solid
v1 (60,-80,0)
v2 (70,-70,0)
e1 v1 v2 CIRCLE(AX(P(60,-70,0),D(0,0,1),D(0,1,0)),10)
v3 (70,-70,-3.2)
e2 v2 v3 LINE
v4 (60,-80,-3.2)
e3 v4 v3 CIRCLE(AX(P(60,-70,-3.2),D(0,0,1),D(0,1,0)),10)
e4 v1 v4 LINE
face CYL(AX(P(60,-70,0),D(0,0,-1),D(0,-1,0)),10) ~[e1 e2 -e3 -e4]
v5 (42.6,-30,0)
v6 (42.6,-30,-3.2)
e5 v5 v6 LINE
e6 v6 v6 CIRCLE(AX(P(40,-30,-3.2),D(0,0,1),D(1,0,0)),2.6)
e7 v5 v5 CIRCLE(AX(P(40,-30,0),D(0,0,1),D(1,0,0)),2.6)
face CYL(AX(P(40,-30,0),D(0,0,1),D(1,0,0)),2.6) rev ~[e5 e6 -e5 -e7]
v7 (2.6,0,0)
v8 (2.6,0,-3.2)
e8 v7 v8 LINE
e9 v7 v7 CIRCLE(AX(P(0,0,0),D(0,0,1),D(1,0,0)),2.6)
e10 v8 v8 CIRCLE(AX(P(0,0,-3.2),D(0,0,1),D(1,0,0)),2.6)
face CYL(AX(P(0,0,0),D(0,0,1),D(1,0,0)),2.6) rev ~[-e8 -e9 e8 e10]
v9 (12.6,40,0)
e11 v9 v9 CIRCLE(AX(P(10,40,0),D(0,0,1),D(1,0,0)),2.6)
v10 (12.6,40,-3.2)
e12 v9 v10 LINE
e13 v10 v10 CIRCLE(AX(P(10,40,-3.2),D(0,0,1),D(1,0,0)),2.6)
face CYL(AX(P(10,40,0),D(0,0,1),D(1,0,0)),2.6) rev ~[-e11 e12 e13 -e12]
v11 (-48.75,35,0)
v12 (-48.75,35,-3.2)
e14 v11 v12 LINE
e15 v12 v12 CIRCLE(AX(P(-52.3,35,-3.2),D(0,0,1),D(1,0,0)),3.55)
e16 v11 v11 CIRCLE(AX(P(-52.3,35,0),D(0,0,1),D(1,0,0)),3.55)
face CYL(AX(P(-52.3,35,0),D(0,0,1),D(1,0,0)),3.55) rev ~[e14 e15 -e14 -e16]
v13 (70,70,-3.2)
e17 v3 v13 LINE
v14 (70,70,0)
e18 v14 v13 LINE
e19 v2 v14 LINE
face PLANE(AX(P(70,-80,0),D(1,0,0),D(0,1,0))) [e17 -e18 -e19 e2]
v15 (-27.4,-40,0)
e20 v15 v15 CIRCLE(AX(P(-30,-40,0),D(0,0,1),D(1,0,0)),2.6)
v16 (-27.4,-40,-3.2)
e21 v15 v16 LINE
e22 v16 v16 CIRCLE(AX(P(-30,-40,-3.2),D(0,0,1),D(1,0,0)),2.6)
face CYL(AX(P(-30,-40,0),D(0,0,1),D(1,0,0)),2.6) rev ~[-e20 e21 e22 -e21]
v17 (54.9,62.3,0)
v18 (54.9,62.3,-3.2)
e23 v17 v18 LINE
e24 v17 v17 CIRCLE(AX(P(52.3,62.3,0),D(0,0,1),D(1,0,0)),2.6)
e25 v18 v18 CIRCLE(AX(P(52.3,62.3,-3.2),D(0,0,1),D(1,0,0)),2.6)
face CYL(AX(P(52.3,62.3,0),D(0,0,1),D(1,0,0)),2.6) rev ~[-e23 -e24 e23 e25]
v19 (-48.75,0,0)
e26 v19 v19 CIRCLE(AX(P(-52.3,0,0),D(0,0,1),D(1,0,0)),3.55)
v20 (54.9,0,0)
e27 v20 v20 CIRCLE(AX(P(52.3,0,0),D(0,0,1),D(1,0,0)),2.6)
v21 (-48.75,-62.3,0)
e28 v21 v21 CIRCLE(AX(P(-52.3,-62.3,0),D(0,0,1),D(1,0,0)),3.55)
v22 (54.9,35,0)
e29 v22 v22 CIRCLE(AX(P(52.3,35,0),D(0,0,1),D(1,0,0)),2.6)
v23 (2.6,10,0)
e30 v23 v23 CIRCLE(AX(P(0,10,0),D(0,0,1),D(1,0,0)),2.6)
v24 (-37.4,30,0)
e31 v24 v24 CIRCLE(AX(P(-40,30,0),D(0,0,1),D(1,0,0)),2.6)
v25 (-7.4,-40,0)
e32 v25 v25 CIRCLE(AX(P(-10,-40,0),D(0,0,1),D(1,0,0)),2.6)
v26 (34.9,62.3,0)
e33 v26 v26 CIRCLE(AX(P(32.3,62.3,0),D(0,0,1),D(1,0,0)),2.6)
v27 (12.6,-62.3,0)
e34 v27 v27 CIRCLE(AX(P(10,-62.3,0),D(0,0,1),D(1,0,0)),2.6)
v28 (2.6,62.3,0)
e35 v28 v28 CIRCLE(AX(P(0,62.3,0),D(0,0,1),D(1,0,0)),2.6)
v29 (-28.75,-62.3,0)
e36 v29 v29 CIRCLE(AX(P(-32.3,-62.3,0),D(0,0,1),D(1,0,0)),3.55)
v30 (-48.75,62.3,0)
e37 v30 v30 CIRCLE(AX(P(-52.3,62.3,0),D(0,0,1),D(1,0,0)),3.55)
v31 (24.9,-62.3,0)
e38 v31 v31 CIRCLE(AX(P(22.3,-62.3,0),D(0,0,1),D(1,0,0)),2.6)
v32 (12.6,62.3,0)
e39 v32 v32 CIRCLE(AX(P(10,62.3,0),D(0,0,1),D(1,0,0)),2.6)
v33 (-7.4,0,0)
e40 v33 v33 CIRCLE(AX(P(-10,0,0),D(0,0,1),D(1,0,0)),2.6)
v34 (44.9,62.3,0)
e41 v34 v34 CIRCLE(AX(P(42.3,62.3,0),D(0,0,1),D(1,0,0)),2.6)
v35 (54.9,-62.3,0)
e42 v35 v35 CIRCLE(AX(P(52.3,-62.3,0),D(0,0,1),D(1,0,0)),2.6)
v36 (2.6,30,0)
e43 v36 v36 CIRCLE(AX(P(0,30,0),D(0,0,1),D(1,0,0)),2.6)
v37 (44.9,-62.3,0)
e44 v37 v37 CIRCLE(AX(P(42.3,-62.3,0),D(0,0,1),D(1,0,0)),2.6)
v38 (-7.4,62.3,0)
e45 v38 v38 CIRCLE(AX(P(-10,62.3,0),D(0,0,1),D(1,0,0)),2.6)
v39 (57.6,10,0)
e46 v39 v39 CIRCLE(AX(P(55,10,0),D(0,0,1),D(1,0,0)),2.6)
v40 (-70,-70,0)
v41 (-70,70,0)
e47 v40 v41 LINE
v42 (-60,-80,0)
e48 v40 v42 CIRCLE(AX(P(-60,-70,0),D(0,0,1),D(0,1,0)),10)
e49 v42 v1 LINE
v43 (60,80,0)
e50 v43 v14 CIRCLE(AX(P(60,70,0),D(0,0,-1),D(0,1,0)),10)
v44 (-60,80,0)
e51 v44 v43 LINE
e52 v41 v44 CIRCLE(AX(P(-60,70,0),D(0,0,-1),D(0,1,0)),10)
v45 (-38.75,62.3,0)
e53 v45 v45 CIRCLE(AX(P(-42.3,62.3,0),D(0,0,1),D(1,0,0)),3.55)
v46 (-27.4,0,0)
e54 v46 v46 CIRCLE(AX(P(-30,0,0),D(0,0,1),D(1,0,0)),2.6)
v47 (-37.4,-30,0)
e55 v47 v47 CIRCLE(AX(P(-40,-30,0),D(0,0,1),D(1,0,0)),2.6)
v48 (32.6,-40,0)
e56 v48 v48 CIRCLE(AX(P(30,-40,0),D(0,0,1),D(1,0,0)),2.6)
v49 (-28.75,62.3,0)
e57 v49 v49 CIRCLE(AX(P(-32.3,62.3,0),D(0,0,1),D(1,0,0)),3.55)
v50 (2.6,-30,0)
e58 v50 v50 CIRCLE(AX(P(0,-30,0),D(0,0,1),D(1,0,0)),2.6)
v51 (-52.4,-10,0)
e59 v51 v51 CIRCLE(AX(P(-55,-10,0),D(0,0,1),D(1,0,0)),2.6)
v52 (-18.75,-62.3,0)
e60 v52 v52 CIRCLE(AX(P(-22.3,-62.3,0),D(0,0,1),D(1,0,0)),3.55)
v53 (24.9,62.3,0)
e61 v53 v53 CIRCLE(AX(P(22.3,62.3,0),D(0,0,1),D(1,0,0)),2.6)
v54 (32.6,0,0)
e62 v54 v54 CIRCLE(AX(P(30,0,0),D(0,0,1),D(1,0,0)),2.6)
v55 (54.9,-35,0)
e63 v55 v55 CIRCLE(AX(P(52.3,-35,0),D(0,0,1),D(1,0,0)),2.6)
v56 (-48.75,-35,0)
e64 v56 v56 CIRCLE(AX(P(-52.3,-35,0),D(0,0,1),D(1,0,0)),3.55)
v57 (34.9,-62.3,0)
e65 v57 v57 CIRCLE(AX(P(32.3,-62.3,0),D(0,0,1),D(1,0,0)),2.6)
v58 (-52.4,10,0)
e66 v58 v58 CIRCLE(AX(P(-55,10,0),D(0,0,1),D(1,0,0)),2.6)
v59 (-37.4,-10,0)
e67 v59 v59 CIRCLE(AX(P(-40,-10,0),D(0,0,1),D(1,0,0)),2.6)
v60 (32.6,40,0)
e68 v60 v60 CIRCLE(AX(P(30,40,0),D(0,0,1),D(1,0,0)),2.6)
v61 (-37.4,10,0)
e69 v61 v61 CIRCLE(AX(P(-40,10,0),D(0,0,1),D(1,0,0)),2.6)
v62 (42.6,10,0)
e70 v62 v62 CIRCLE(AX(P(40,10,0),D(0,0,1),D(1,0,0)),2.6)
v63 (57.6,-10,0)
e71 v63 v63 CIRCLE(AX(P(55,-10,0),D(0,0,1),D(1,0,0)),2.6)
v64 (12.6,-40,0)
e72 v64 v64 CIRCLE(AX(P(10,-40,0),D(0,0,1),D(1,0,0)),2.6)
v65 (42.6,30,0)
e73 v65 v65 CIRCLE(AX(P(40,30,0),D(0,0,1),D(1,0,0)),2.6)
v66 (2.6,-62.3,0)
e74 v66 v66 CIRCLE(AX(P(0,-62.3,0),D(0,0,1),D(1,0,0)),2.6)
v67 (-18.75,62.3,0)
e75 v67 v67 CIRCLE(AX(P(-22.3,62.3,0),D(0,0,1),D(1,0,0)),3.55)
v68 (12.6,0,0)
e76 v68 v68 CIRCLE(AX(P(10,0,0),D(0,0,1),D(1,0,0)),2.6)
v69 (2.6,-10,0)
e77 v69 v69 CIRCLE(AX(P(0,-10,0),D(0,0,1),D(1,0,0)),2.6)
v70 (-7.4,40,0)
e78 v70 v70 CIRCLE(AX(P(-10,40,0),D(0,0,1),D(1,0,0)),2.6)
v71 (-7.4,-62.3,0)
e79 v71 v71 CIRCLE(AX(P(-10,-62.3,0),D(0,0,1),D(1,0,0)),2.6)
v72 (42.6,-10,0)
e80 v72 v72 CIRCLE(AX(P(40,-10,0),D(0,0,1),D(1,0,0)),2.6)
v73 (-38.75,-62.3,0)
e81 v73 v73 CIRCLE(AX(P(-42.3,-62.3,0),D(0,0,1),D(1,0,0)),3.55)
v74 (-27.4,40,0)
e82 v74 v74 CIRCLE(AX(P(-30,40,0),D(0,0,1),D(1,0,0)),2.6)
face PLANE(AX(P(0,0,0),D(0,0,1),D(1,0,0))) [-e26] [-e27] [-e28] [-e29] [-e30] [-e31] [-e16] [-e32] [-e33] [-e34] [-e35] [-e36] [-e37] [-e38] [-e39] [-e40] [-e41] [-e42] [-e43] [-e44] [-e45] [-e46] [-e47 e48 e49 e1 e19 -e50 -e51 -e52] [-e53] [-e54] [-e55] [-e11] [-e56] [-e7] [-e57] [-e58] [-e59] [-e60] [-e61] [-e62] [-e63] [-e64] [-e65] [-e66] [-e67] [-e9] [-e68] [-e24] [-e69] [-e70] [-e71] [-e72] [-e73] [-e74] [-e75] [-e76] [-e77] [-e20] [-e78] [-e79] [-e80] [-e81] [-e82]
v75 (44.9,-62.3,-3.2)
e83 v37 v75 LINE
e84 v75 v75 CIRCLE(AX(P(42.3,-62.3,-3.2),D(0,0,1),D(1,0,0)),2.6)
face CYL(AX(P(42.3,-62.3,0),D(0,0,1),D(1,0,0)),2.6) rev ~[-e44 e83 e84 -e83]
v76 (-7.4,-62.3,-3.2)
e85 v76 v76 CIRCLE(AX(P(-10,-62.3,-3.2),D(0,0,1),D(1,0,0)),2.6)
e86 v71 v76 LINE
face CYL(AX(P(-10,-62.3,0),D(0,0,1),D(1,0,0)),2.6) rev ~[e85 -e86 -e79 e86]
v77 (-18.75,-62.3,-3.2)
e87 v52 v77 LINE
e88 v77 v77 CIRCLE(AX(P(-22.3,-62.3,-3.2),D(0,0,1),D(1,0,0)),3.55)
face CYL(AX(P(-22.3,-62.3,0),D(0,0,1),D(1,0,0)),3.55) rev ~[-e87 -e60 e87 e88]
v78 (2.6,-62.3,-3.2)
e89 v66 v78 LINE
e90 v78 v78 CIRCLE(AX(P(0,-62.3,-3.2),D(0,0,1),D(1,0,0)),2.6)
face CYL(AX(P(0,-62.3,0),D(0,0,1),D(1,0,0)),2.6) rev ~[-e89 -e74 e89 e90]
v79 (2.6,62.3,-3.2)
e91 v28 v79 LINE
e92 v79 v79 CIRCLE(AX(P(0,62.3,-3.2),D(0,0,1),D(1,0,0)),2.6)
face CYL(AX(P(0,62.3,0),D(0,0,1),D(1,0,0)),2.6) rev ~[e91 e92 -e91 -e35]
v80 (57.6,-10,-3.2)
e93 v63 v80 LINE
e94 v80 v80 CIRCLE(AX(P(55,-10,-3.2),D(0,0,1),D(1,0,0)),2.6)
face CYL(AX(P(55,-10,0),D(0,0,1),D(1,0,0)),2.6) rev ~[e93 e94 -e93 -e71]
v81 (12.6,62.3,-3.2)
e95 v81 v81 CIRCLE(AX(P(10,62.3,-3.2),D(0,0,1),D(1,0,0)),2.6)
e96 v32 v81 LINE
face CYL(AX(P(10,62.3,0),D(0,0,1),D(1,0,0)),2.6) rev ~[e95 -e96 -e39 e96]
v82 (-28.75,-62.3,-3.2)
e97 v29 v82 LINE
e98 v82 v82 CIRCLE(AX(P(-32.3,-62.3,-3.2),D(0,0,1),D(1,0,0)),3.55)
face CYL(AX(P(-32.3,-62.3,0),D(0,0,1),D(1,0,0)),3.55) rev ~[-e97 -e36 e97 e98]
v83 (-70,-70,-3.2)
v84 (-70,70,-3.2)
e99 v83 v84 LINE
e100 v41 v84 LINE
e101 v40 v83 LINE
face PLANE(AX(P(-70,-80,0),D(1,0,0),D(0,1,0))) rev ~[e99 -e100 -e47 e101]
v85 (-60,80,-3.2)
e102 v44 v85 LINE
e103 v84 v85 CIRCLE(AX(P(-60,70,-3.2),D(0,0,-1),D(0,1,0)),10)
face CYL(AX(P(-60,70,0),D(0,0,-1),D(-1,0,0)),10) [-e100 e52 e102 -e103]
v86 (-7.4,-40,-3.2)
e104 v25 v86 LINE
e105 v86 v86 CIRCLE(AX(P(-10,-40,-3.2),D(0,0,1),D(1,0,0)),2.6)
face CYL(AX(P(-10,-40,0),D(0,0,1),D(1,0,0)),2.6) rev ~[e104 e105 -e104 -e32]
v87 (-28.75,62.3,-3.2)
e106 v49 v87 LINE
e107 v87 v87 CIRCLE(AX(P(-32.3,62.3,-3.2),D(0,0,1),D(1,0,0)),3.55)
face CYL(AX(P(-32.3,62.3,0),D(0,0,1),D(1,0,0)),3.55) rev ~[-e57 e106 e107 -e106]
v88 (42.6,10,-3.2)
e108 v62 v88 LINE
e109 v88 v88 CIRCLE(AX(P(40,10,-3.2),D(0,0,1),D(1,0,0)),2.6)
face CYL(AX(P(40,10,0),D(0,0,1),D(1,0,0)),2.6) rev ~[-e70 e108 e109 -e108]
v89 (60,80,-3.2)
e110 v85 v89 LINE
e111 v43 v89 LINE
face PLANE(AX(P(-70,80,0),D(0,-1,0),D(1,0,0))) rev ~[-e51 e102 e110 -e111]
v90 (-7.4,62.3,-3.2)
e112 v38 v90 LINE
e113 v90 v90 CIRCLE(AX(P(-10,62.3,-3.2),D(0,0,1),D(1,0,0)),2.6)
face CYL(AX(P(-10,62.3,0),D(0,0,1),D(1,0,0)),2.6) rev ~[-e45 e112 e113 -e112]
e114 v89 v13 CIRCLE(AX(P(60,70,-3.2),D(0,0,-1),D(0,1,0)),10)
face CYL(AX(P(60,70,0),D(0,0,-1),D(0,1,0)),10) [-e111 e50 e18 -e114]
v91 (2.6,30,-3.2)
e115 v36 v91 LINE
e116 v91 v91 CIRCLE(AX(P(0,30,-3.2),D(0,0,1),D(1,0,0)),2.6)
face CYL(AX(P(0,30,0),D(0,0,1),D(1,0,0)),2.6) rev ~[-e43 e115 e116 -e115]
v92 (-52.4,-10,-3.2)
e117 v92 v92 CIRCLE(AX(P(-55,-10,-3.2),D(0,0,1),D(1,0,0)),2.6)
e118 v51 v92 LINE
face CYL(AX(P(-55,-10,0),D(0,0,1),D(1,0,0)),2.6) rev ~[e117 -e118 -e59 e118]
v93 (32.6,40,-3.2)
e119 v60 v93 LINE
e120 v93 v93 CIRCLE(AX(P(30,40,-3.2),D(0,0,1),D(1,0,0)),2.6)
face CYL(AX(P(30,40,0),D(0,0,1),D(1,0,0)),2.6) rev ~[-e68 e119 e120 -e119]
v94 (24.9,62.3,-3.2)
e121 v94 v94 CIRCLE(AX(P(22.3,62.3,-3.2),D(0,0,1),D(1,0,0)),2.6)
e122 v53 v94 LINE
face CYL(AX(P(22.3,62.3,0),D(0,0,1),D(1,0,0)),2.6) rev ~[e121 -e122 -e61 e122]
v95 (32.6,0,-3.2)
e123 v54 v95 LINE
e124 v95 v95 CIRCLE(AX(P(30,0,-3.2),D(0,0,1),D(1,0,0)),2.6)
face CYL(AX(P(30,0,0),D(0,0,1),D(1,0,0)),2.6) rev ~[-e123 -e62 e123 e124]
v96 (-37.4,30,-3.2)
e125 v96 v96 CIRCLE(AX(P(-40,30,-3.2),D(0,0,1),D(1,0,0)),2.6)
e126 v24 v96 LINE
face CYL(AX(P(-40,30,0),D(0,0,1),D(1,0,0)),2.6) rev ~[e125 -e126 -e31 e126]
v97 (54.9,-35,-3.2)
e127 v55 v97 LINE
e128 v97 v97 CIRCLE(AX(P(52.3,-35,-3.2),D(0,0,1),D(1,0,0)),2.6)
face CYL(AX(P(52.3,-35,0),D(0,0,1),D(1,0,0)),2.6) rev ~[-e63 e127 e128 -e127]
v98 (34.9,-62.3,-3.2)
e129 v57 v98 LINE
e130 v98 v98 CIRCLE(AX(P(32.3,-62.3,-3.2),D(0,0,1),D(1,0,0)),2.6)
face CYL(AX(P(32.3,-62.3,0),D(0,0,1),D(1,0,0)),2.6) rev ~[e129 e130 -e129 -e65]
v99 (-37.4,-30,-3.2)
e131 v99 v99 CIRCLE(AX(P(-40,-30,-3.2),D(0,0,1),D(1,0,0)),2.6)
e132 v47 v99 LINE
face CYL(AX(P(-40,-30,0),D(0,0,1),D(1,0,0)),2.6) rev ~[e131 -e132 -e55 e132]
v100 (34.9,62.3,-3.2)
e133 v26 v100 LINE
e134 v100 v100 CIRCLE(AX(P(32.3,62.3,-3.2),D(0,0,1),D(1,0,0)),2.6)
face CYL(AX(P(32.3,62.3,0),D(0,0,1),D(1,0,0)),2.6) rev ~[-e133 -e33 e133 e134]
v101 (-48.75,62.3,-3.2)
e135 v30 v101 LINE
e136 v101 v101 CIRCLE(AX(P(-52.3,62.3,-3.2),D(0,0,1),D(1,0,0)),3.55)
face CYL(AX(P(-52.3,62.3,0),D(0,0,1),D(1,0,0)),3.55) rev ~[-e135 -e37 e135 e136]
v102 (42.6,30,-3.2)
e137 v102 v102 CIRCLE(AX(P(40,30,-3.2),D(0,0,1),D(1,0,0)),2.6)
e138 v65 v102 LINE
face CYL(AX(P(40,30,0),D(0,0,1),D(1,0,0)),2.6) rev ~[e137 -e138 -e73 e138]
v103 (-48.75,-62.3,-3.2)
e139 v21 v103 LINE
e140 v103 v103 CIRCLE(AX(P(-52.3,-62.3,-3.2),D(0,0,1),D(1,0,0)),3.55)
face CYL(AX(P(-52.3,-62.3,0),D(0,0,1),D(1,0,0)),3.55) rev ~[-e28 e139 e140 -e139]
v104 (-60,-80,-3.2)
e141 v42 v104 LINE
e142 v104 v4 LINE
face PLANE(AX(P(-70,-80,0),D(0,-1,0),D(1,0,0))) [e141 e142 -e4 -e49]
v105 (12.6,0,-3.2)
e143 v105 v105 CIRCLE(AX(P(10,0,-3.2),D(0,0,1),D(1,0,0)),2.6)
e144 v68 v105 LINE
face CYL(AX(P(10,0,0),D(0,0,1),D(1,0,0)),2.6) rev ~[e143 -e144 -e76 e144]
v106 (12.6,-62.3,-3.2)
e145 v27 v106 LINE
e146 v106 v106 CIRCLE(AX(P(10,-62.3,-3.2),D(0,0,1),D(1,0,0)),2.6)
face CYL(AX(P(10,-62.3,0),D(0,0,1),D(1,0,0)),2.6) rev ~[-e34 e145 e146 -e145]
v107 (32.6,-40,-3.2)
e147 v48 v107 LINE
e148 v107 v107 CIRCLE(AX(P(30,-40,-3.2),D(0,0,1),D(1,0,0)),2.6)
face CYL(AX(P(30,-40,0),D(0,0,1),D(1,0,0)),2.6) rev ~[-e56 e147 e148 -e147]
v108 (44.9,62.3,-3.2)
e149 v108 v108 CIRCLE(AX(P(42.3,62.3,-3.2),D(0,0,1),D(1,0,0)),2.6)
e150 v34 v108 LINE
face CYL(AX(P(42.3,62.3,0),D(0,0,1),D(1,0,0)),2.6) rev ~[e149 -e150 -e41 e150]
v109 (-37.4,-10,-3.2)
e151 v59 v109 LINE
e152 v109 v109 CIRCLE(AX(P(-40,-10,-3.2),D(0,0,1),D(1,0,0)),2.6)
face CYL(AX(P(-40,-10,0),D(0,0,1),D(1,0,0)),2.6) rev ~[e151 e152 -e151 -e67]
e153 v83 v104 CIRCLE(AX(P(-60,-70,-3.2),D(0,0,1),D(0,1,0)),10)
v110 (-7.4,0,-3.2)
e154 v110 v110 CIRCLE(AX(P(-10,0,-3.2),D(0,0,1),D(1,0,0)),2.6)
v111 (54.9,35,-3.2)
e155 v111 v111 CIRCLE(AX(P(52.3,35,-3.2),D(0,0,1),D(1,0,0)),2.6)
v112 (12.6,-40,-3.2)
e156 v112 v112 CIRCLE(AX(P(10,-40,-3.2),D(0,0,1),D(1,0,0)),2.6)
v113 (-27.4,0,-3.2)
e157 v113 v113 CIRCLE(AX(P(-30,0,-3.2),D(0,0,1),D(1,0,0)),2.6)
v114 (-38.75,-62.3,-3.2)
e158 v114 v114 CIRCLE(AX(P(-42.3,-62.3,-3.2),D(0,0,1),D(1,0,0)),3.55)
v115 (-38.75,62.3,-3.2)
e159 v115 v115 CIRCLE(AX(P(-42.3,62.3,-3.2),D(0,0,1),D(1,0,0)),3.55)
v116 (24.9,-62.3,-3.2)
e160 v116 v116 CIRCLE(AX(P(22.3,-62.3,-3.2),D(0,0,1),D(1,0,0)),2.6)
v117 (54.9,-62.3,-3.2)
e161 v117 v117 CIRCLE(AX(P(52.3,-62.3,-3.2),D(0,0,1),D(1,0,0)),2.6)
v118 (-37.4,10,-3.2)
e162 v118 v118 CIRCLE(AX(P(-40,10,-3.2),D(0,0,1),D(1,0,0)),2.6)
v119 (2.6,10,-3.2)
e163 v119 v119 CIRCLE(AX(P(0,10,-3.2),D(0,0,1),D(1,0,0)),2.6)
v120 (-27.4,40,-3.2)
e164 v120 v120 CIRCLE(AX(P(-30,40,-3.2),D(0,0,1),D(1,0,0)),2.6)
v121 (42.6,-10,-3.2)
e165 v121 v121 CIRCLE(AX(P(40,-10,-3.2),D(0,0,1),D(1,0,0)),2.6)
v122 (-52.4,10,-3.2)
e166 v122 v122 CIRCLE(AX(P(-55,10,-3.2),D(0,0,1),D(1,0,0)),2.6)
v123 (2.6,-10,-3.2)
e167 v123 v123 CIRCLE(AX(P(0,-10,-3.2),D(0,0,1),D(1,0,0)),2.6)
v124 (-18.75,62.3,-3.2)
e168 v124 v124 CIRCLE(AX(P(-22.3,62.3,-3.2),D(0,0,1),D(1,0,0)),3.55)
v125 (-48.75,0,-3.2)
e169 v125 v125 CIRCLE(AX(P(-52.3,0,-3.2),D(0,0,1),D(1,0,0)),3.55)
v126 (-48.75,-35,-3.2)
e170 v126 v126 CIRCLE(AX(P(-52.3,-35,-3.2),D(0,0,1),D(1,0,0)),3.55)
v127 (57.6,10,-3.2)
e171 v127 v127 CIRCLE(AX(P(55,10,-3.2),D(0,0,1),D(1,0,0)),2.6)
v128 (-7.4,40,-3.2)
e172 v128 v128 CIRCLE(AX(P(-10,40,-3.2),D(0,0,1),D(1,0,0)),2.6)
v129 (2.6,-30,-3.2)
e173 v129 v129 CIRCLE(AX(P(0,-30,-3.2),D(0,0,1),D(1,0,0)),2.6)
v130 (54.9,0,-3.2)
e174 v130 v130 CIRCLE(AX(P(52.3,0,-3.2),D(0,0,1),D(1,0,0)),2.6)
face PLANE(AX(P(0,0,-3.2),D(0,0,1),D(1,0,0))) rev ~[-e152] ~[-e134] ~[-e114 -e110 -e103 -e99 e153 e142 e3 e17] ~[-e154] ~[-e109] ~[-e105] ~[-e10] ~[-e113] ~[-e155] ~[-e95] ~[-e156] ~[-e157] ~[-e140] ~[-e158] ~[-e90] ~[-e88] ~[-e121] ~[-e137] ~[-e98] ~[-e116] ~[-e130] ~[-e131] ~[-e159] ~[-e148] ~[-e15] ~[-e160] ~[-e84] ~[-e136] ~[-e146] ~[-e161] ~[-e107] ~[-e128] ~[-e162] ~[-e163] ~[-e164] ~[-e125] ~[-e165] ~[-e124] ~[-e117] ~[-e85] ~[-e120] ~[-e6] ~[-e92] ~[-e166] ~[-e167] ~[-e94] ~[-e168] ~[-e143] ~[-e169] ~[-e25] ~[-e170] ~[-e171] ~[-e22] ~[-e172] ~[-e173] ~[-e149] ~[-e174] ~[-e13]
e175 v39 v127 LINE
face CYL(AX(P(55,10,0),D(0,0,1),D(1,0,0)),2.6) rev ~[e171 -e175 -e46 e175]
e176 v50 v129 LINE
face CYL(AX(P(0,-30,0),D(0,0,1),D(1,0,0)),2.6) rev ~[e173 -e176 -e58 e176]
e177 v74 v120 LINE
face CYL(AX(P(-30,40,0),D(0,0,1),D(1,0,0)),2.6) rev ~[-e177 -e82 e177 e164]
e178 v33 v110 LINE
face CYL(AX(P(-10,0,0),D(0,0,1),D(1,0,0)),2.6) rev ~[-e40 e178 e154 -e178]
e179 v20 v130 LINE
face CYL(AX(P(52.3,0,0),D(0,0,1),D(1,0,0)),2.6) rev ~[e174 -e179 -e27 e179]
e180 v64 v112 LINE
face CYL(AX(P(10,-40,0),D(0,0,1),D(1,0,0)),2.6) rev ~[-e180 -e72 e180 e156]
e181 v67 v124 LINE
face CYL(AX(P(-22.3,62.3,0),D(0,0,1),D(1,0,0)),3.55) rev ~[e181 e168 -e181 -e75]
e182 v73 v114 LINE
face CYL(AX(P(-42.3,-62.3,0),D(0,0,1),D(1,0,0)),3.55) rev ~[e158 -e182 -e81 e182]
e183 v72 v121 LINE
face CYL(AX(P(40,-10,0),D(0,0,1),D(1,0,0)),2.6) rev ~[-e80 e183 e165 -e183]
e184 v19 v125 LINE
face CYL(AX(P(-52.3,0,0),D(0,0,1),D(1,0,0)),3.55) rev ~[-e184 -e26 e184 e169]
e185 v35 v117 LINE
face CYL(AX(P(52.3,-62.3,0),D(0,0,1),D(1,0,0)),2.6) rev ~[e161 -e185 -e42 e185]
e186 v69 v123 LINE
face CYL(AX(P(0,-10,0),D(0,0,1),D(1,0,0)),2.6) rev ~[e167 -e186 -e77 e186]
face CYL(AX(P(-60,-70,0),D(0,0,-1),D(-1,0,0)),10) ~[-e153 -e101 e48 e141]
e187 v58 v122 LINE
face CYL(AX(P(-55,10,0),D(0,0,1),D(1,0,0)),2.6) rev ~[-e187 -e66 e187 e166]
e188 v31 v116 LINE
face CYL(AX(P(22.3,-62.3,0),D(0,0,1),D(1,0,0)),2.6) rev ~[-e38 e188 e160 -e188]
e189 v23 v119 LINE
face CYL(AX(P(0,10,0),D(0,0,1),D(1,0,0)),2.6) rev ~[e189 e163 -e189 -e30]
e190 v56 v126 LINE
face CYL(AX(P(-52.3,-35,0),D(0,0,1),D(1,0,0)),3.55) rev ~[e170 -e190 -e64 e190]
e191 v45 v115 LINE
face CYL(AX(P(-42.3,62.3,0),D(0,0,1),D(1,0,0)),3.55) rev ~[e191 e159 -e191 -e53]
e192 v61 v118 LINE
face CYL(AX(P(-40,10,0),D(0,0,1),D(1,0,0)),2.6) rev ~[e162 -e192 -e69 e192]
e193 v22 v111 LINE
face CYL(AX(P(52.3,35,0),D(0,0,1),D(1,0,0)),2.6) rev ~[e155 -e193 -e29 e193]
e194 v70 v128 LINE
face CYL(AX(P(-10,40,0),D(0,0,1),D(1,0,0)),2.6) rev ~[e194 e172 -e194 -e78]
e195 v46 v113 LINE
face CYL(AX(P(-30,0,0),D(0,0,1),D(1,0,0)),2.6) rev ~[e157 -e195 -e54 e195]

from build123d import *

# Parameters (mm, degrees)
SKETCH1_W           = 140
SKETCH1_H           = 160
SKETCH1_R           = 2.6
SKETCH1_R_2         = 3.55
BOSS_EXTRUDE1_DEPTH = 3.2
FILLET1_R           = 10


with BuildPart() as part:
    # Sketch1 → Boss-Extrude1 (new body)
    with BuildSketch(Plane.XY):
        Rectangle(SKETCH1_W, SKETCH1_H)
        Circle(SKETCH1_R, mode=Mode.SUBTRACT)
        with Locations((10, 0)):
            Circle(SKETCH1_R, mode=Mode.SUBTRACT)
        with Locations((-40, 10)):
            Circle(SKETCH1_R, mode=Mode.SUBTRACT)
        with Locations((30, 0)):
            Circle(SKETCH1_R, mode=Mode.SUBTRACT)
        with Locations((-10, 0)):
            Circle(SKETCH1_R, mode=Mode.SUBTRACT)
        with Locations((40, 10)):
            Circle(SKETCH1_R, mode=Mode.SUBTRACT)
        with Locations((-30, 0)):
            Circle(SKETCH1_R, mode=Mode.SUBTRACT)
        with Locations((0, 10)):
            Circle(SKETCH1_R, mode=Mode.SUBTRACT)
        with Locations((-52.3, 35)):
            Circle(SKETCH1_R_2, mode=Mode.SUBTRACT)
        with Locations((52.3, 35)):
            Circle(SKETCH1_R, mode=Mode.SUBTRACT)
        with Locations((22.3, 62.3)):
            Circle(SKETCH1_R, mode=Mode.SUBTRACT)
        with Locations((0, 30)):
            Circle(SKETCH1_R, mode=Mode.SUBTRACT)
        with Locations((-10, 40)):
            Circle(SKETCH1_R, mode=Mode.SUBTRACT)
        with Locations((52.3, 0)):
            Circle(SKETCH1_R, mode=Mode.SUBTRACT)
        with Locations((-52.3, 0)):
            Circle(SKETCH1_R_2, mode=Mode.SUBTRACT)
        with Locations((-30, 40)):
            Circle(SKETCH1_R, mode=Mode.SUBTRACT)
        with Locations((-52.3, 62.3)):
            Circle(SKETCH1_R_2, mode=Mode.SUBTRACT)
        with Locations((-40, 30)):
            Circle(SKETCH1_R, mode=Mode.SUBTRACT)
        with Locations((40, 30)):
            Circle(SKETCH1_R, mode=Mode.SUBTRACT)
        with Locations((30, 40)):
            Circle(SKETCH1_R, mode=Mode.SUBTRACT)
        with Locations((52.3, 62.3)):
            Circle(SKETCH1_R, mode=Mode.SUBTRACT)
        with Locations((10, 40)):
            Circle(SKETCH1_R, mode=Mode.SUBTRACT)
        with Locations((-42.3, 62.3)):
            Circle(SKETCH1_R_2, mode=Mode.SUBTRACT)
        with Locations((-32.3, 62.3)):
            Circle(SKETCH1_R_2, mode=Mode.SUBTRACT)
        with Locations((-22.3, -62.3)):
            Circle(SKETCH1_R_2, mode=Mode.SUBTRACT)
        with Locations((55, -10)):
            Circle(SKETCH1_R, mode=Mode.SUBTRACT)
        with Locations((42.3, 62.3)):
            Circle(SKETCH1_R, mode=Mode.SUBTRACT)
        with Locations((-55, -10)):
            Circle(SKETCH1_R, mode=Mode.SUBTRACT)
        with Locations((-10, -62.3)):
            Circle(SKETCH1_R, mode=Mode.SUBTRACT)
        with Locations((0, 62.3)):
            Circle(SKETCH1_R, mode=Mode.SUBTRACT)
        with Locations((10, 62.3)):
            Circle(SKETCH1_R, mode=Mode.SUBTRACT)
        with Locations((-10, 62.3)):
            Circle(SKETCH1_R, mode=Mode.SUBTRACT)
        with Locations((10, -62.3)):
            Circle(SKETCH1_R, mode=Mode.SUBTRACT)
        with Locations((0, -62.3)):
            Circle(SKETCH1_R, mode=Mode.SUBTRACT)
        with Locations((32.3, -62.3)):
            Circle(SKETCH1_R, mode=Mode.SUBTRACT)
        with Locations((42.3, -62.3)):
            Circle(SKETCH1_R, mode=Mode.SUBTRACT)
        with Locations((-55, 10)):
            Circle(SKETCH1_R, mode=Mode.SUBTRACT)
        with Locations((55, 10)):
            Circle(SKETCH1_R, mode=Mode.SUBTRACT)
        with Locations((-32.3, -62.3)):
            Circle(SKETCH1_R_2, mode=Mode.SUBTRACT)
        with Locations((-42.3, -62.3)):
            Circle(SKETCH1_R_2, mode=Mode.SUBTRACT)
        with Locations((10, -40)):
            Circle(SKETCH1_R, mode=Mode.SUBTRACT)
        with Locations((52.3, -62.3)):
            Circle(SKETCH1_R, mode=Mode.SUBTRACT)
        with Locations((30, -40)):
            Circle(SKETCH1_R, mode=Mode.SUBTRACT)
        with Locations((40, -30)):
            Circle(SKETCH1_R, mode=Mode.SUBTRACT)
        with Locations((-40, -30)):
            Circle(SKETCH1_R, mode=Mode.SUBTRACT)
        with Locations((-52.3, -62.3)):
            Circle(SKETCH1_R_2, mode=Mode.SUBTRACT)
        with Locations((-30, -40)):
            Circle(SKETCH1_R, mode=Mode.SUBTRACT)
        with Locations((-10, -40)):
            Circle(SKETCH1_R, mode=Mode.SUBTRACT)
        with Locations((-22.3, 62.3)):
            Circle(SKETCH1_R_2, mode=Mode.SUBTRACT)
        with Locations((0, -30)):
            Circle(SKETCH1_R, mode=Mode.SUBTRACT)
        with Locations((32.3, 62.3)):
            Circle(SKETCH1_R, mode=Mode.SUBTRACT)
        with Locations((22.3, -62.3)):
            Circle(SKETCH1_R, mode=Mode.SUBTRACT)
        with Locations((52.3, -35)):
            Circle(SKETCH1_R, mode=Mode.SUBTRACT)
        with Locations((-52.3, -35)):
            Circle(SKETCH1_R_2, mode=Mode.SUBTRACT)
        with Locations((0, -10)):
            Circle(SKETCH1_R, mode=Mode.SUBTRACT)
        with Locations((40, -10)):
            Circle(SKETCH1_R, mode=Mode.SUBTRACT)
        with Locations((-40, -10)):
            Circle(SKETCH1_R, mode=Mode.SUBTRACT)
    extrude(amount=-BOSS_EXTRUDE1_DEPTH)

    # Fillet1
    fillet1_edges = [part.edges().sort_by_distance(p)[0] for p in [
        (70, -80, -1.6),
        (-70, -80, -1.6),
        (-70, 80, -1.6),
        (70, 80, -1.6),
    ]]
    fillet(fillet1_edges, radius=FILLET1_R)


solid = part.part
